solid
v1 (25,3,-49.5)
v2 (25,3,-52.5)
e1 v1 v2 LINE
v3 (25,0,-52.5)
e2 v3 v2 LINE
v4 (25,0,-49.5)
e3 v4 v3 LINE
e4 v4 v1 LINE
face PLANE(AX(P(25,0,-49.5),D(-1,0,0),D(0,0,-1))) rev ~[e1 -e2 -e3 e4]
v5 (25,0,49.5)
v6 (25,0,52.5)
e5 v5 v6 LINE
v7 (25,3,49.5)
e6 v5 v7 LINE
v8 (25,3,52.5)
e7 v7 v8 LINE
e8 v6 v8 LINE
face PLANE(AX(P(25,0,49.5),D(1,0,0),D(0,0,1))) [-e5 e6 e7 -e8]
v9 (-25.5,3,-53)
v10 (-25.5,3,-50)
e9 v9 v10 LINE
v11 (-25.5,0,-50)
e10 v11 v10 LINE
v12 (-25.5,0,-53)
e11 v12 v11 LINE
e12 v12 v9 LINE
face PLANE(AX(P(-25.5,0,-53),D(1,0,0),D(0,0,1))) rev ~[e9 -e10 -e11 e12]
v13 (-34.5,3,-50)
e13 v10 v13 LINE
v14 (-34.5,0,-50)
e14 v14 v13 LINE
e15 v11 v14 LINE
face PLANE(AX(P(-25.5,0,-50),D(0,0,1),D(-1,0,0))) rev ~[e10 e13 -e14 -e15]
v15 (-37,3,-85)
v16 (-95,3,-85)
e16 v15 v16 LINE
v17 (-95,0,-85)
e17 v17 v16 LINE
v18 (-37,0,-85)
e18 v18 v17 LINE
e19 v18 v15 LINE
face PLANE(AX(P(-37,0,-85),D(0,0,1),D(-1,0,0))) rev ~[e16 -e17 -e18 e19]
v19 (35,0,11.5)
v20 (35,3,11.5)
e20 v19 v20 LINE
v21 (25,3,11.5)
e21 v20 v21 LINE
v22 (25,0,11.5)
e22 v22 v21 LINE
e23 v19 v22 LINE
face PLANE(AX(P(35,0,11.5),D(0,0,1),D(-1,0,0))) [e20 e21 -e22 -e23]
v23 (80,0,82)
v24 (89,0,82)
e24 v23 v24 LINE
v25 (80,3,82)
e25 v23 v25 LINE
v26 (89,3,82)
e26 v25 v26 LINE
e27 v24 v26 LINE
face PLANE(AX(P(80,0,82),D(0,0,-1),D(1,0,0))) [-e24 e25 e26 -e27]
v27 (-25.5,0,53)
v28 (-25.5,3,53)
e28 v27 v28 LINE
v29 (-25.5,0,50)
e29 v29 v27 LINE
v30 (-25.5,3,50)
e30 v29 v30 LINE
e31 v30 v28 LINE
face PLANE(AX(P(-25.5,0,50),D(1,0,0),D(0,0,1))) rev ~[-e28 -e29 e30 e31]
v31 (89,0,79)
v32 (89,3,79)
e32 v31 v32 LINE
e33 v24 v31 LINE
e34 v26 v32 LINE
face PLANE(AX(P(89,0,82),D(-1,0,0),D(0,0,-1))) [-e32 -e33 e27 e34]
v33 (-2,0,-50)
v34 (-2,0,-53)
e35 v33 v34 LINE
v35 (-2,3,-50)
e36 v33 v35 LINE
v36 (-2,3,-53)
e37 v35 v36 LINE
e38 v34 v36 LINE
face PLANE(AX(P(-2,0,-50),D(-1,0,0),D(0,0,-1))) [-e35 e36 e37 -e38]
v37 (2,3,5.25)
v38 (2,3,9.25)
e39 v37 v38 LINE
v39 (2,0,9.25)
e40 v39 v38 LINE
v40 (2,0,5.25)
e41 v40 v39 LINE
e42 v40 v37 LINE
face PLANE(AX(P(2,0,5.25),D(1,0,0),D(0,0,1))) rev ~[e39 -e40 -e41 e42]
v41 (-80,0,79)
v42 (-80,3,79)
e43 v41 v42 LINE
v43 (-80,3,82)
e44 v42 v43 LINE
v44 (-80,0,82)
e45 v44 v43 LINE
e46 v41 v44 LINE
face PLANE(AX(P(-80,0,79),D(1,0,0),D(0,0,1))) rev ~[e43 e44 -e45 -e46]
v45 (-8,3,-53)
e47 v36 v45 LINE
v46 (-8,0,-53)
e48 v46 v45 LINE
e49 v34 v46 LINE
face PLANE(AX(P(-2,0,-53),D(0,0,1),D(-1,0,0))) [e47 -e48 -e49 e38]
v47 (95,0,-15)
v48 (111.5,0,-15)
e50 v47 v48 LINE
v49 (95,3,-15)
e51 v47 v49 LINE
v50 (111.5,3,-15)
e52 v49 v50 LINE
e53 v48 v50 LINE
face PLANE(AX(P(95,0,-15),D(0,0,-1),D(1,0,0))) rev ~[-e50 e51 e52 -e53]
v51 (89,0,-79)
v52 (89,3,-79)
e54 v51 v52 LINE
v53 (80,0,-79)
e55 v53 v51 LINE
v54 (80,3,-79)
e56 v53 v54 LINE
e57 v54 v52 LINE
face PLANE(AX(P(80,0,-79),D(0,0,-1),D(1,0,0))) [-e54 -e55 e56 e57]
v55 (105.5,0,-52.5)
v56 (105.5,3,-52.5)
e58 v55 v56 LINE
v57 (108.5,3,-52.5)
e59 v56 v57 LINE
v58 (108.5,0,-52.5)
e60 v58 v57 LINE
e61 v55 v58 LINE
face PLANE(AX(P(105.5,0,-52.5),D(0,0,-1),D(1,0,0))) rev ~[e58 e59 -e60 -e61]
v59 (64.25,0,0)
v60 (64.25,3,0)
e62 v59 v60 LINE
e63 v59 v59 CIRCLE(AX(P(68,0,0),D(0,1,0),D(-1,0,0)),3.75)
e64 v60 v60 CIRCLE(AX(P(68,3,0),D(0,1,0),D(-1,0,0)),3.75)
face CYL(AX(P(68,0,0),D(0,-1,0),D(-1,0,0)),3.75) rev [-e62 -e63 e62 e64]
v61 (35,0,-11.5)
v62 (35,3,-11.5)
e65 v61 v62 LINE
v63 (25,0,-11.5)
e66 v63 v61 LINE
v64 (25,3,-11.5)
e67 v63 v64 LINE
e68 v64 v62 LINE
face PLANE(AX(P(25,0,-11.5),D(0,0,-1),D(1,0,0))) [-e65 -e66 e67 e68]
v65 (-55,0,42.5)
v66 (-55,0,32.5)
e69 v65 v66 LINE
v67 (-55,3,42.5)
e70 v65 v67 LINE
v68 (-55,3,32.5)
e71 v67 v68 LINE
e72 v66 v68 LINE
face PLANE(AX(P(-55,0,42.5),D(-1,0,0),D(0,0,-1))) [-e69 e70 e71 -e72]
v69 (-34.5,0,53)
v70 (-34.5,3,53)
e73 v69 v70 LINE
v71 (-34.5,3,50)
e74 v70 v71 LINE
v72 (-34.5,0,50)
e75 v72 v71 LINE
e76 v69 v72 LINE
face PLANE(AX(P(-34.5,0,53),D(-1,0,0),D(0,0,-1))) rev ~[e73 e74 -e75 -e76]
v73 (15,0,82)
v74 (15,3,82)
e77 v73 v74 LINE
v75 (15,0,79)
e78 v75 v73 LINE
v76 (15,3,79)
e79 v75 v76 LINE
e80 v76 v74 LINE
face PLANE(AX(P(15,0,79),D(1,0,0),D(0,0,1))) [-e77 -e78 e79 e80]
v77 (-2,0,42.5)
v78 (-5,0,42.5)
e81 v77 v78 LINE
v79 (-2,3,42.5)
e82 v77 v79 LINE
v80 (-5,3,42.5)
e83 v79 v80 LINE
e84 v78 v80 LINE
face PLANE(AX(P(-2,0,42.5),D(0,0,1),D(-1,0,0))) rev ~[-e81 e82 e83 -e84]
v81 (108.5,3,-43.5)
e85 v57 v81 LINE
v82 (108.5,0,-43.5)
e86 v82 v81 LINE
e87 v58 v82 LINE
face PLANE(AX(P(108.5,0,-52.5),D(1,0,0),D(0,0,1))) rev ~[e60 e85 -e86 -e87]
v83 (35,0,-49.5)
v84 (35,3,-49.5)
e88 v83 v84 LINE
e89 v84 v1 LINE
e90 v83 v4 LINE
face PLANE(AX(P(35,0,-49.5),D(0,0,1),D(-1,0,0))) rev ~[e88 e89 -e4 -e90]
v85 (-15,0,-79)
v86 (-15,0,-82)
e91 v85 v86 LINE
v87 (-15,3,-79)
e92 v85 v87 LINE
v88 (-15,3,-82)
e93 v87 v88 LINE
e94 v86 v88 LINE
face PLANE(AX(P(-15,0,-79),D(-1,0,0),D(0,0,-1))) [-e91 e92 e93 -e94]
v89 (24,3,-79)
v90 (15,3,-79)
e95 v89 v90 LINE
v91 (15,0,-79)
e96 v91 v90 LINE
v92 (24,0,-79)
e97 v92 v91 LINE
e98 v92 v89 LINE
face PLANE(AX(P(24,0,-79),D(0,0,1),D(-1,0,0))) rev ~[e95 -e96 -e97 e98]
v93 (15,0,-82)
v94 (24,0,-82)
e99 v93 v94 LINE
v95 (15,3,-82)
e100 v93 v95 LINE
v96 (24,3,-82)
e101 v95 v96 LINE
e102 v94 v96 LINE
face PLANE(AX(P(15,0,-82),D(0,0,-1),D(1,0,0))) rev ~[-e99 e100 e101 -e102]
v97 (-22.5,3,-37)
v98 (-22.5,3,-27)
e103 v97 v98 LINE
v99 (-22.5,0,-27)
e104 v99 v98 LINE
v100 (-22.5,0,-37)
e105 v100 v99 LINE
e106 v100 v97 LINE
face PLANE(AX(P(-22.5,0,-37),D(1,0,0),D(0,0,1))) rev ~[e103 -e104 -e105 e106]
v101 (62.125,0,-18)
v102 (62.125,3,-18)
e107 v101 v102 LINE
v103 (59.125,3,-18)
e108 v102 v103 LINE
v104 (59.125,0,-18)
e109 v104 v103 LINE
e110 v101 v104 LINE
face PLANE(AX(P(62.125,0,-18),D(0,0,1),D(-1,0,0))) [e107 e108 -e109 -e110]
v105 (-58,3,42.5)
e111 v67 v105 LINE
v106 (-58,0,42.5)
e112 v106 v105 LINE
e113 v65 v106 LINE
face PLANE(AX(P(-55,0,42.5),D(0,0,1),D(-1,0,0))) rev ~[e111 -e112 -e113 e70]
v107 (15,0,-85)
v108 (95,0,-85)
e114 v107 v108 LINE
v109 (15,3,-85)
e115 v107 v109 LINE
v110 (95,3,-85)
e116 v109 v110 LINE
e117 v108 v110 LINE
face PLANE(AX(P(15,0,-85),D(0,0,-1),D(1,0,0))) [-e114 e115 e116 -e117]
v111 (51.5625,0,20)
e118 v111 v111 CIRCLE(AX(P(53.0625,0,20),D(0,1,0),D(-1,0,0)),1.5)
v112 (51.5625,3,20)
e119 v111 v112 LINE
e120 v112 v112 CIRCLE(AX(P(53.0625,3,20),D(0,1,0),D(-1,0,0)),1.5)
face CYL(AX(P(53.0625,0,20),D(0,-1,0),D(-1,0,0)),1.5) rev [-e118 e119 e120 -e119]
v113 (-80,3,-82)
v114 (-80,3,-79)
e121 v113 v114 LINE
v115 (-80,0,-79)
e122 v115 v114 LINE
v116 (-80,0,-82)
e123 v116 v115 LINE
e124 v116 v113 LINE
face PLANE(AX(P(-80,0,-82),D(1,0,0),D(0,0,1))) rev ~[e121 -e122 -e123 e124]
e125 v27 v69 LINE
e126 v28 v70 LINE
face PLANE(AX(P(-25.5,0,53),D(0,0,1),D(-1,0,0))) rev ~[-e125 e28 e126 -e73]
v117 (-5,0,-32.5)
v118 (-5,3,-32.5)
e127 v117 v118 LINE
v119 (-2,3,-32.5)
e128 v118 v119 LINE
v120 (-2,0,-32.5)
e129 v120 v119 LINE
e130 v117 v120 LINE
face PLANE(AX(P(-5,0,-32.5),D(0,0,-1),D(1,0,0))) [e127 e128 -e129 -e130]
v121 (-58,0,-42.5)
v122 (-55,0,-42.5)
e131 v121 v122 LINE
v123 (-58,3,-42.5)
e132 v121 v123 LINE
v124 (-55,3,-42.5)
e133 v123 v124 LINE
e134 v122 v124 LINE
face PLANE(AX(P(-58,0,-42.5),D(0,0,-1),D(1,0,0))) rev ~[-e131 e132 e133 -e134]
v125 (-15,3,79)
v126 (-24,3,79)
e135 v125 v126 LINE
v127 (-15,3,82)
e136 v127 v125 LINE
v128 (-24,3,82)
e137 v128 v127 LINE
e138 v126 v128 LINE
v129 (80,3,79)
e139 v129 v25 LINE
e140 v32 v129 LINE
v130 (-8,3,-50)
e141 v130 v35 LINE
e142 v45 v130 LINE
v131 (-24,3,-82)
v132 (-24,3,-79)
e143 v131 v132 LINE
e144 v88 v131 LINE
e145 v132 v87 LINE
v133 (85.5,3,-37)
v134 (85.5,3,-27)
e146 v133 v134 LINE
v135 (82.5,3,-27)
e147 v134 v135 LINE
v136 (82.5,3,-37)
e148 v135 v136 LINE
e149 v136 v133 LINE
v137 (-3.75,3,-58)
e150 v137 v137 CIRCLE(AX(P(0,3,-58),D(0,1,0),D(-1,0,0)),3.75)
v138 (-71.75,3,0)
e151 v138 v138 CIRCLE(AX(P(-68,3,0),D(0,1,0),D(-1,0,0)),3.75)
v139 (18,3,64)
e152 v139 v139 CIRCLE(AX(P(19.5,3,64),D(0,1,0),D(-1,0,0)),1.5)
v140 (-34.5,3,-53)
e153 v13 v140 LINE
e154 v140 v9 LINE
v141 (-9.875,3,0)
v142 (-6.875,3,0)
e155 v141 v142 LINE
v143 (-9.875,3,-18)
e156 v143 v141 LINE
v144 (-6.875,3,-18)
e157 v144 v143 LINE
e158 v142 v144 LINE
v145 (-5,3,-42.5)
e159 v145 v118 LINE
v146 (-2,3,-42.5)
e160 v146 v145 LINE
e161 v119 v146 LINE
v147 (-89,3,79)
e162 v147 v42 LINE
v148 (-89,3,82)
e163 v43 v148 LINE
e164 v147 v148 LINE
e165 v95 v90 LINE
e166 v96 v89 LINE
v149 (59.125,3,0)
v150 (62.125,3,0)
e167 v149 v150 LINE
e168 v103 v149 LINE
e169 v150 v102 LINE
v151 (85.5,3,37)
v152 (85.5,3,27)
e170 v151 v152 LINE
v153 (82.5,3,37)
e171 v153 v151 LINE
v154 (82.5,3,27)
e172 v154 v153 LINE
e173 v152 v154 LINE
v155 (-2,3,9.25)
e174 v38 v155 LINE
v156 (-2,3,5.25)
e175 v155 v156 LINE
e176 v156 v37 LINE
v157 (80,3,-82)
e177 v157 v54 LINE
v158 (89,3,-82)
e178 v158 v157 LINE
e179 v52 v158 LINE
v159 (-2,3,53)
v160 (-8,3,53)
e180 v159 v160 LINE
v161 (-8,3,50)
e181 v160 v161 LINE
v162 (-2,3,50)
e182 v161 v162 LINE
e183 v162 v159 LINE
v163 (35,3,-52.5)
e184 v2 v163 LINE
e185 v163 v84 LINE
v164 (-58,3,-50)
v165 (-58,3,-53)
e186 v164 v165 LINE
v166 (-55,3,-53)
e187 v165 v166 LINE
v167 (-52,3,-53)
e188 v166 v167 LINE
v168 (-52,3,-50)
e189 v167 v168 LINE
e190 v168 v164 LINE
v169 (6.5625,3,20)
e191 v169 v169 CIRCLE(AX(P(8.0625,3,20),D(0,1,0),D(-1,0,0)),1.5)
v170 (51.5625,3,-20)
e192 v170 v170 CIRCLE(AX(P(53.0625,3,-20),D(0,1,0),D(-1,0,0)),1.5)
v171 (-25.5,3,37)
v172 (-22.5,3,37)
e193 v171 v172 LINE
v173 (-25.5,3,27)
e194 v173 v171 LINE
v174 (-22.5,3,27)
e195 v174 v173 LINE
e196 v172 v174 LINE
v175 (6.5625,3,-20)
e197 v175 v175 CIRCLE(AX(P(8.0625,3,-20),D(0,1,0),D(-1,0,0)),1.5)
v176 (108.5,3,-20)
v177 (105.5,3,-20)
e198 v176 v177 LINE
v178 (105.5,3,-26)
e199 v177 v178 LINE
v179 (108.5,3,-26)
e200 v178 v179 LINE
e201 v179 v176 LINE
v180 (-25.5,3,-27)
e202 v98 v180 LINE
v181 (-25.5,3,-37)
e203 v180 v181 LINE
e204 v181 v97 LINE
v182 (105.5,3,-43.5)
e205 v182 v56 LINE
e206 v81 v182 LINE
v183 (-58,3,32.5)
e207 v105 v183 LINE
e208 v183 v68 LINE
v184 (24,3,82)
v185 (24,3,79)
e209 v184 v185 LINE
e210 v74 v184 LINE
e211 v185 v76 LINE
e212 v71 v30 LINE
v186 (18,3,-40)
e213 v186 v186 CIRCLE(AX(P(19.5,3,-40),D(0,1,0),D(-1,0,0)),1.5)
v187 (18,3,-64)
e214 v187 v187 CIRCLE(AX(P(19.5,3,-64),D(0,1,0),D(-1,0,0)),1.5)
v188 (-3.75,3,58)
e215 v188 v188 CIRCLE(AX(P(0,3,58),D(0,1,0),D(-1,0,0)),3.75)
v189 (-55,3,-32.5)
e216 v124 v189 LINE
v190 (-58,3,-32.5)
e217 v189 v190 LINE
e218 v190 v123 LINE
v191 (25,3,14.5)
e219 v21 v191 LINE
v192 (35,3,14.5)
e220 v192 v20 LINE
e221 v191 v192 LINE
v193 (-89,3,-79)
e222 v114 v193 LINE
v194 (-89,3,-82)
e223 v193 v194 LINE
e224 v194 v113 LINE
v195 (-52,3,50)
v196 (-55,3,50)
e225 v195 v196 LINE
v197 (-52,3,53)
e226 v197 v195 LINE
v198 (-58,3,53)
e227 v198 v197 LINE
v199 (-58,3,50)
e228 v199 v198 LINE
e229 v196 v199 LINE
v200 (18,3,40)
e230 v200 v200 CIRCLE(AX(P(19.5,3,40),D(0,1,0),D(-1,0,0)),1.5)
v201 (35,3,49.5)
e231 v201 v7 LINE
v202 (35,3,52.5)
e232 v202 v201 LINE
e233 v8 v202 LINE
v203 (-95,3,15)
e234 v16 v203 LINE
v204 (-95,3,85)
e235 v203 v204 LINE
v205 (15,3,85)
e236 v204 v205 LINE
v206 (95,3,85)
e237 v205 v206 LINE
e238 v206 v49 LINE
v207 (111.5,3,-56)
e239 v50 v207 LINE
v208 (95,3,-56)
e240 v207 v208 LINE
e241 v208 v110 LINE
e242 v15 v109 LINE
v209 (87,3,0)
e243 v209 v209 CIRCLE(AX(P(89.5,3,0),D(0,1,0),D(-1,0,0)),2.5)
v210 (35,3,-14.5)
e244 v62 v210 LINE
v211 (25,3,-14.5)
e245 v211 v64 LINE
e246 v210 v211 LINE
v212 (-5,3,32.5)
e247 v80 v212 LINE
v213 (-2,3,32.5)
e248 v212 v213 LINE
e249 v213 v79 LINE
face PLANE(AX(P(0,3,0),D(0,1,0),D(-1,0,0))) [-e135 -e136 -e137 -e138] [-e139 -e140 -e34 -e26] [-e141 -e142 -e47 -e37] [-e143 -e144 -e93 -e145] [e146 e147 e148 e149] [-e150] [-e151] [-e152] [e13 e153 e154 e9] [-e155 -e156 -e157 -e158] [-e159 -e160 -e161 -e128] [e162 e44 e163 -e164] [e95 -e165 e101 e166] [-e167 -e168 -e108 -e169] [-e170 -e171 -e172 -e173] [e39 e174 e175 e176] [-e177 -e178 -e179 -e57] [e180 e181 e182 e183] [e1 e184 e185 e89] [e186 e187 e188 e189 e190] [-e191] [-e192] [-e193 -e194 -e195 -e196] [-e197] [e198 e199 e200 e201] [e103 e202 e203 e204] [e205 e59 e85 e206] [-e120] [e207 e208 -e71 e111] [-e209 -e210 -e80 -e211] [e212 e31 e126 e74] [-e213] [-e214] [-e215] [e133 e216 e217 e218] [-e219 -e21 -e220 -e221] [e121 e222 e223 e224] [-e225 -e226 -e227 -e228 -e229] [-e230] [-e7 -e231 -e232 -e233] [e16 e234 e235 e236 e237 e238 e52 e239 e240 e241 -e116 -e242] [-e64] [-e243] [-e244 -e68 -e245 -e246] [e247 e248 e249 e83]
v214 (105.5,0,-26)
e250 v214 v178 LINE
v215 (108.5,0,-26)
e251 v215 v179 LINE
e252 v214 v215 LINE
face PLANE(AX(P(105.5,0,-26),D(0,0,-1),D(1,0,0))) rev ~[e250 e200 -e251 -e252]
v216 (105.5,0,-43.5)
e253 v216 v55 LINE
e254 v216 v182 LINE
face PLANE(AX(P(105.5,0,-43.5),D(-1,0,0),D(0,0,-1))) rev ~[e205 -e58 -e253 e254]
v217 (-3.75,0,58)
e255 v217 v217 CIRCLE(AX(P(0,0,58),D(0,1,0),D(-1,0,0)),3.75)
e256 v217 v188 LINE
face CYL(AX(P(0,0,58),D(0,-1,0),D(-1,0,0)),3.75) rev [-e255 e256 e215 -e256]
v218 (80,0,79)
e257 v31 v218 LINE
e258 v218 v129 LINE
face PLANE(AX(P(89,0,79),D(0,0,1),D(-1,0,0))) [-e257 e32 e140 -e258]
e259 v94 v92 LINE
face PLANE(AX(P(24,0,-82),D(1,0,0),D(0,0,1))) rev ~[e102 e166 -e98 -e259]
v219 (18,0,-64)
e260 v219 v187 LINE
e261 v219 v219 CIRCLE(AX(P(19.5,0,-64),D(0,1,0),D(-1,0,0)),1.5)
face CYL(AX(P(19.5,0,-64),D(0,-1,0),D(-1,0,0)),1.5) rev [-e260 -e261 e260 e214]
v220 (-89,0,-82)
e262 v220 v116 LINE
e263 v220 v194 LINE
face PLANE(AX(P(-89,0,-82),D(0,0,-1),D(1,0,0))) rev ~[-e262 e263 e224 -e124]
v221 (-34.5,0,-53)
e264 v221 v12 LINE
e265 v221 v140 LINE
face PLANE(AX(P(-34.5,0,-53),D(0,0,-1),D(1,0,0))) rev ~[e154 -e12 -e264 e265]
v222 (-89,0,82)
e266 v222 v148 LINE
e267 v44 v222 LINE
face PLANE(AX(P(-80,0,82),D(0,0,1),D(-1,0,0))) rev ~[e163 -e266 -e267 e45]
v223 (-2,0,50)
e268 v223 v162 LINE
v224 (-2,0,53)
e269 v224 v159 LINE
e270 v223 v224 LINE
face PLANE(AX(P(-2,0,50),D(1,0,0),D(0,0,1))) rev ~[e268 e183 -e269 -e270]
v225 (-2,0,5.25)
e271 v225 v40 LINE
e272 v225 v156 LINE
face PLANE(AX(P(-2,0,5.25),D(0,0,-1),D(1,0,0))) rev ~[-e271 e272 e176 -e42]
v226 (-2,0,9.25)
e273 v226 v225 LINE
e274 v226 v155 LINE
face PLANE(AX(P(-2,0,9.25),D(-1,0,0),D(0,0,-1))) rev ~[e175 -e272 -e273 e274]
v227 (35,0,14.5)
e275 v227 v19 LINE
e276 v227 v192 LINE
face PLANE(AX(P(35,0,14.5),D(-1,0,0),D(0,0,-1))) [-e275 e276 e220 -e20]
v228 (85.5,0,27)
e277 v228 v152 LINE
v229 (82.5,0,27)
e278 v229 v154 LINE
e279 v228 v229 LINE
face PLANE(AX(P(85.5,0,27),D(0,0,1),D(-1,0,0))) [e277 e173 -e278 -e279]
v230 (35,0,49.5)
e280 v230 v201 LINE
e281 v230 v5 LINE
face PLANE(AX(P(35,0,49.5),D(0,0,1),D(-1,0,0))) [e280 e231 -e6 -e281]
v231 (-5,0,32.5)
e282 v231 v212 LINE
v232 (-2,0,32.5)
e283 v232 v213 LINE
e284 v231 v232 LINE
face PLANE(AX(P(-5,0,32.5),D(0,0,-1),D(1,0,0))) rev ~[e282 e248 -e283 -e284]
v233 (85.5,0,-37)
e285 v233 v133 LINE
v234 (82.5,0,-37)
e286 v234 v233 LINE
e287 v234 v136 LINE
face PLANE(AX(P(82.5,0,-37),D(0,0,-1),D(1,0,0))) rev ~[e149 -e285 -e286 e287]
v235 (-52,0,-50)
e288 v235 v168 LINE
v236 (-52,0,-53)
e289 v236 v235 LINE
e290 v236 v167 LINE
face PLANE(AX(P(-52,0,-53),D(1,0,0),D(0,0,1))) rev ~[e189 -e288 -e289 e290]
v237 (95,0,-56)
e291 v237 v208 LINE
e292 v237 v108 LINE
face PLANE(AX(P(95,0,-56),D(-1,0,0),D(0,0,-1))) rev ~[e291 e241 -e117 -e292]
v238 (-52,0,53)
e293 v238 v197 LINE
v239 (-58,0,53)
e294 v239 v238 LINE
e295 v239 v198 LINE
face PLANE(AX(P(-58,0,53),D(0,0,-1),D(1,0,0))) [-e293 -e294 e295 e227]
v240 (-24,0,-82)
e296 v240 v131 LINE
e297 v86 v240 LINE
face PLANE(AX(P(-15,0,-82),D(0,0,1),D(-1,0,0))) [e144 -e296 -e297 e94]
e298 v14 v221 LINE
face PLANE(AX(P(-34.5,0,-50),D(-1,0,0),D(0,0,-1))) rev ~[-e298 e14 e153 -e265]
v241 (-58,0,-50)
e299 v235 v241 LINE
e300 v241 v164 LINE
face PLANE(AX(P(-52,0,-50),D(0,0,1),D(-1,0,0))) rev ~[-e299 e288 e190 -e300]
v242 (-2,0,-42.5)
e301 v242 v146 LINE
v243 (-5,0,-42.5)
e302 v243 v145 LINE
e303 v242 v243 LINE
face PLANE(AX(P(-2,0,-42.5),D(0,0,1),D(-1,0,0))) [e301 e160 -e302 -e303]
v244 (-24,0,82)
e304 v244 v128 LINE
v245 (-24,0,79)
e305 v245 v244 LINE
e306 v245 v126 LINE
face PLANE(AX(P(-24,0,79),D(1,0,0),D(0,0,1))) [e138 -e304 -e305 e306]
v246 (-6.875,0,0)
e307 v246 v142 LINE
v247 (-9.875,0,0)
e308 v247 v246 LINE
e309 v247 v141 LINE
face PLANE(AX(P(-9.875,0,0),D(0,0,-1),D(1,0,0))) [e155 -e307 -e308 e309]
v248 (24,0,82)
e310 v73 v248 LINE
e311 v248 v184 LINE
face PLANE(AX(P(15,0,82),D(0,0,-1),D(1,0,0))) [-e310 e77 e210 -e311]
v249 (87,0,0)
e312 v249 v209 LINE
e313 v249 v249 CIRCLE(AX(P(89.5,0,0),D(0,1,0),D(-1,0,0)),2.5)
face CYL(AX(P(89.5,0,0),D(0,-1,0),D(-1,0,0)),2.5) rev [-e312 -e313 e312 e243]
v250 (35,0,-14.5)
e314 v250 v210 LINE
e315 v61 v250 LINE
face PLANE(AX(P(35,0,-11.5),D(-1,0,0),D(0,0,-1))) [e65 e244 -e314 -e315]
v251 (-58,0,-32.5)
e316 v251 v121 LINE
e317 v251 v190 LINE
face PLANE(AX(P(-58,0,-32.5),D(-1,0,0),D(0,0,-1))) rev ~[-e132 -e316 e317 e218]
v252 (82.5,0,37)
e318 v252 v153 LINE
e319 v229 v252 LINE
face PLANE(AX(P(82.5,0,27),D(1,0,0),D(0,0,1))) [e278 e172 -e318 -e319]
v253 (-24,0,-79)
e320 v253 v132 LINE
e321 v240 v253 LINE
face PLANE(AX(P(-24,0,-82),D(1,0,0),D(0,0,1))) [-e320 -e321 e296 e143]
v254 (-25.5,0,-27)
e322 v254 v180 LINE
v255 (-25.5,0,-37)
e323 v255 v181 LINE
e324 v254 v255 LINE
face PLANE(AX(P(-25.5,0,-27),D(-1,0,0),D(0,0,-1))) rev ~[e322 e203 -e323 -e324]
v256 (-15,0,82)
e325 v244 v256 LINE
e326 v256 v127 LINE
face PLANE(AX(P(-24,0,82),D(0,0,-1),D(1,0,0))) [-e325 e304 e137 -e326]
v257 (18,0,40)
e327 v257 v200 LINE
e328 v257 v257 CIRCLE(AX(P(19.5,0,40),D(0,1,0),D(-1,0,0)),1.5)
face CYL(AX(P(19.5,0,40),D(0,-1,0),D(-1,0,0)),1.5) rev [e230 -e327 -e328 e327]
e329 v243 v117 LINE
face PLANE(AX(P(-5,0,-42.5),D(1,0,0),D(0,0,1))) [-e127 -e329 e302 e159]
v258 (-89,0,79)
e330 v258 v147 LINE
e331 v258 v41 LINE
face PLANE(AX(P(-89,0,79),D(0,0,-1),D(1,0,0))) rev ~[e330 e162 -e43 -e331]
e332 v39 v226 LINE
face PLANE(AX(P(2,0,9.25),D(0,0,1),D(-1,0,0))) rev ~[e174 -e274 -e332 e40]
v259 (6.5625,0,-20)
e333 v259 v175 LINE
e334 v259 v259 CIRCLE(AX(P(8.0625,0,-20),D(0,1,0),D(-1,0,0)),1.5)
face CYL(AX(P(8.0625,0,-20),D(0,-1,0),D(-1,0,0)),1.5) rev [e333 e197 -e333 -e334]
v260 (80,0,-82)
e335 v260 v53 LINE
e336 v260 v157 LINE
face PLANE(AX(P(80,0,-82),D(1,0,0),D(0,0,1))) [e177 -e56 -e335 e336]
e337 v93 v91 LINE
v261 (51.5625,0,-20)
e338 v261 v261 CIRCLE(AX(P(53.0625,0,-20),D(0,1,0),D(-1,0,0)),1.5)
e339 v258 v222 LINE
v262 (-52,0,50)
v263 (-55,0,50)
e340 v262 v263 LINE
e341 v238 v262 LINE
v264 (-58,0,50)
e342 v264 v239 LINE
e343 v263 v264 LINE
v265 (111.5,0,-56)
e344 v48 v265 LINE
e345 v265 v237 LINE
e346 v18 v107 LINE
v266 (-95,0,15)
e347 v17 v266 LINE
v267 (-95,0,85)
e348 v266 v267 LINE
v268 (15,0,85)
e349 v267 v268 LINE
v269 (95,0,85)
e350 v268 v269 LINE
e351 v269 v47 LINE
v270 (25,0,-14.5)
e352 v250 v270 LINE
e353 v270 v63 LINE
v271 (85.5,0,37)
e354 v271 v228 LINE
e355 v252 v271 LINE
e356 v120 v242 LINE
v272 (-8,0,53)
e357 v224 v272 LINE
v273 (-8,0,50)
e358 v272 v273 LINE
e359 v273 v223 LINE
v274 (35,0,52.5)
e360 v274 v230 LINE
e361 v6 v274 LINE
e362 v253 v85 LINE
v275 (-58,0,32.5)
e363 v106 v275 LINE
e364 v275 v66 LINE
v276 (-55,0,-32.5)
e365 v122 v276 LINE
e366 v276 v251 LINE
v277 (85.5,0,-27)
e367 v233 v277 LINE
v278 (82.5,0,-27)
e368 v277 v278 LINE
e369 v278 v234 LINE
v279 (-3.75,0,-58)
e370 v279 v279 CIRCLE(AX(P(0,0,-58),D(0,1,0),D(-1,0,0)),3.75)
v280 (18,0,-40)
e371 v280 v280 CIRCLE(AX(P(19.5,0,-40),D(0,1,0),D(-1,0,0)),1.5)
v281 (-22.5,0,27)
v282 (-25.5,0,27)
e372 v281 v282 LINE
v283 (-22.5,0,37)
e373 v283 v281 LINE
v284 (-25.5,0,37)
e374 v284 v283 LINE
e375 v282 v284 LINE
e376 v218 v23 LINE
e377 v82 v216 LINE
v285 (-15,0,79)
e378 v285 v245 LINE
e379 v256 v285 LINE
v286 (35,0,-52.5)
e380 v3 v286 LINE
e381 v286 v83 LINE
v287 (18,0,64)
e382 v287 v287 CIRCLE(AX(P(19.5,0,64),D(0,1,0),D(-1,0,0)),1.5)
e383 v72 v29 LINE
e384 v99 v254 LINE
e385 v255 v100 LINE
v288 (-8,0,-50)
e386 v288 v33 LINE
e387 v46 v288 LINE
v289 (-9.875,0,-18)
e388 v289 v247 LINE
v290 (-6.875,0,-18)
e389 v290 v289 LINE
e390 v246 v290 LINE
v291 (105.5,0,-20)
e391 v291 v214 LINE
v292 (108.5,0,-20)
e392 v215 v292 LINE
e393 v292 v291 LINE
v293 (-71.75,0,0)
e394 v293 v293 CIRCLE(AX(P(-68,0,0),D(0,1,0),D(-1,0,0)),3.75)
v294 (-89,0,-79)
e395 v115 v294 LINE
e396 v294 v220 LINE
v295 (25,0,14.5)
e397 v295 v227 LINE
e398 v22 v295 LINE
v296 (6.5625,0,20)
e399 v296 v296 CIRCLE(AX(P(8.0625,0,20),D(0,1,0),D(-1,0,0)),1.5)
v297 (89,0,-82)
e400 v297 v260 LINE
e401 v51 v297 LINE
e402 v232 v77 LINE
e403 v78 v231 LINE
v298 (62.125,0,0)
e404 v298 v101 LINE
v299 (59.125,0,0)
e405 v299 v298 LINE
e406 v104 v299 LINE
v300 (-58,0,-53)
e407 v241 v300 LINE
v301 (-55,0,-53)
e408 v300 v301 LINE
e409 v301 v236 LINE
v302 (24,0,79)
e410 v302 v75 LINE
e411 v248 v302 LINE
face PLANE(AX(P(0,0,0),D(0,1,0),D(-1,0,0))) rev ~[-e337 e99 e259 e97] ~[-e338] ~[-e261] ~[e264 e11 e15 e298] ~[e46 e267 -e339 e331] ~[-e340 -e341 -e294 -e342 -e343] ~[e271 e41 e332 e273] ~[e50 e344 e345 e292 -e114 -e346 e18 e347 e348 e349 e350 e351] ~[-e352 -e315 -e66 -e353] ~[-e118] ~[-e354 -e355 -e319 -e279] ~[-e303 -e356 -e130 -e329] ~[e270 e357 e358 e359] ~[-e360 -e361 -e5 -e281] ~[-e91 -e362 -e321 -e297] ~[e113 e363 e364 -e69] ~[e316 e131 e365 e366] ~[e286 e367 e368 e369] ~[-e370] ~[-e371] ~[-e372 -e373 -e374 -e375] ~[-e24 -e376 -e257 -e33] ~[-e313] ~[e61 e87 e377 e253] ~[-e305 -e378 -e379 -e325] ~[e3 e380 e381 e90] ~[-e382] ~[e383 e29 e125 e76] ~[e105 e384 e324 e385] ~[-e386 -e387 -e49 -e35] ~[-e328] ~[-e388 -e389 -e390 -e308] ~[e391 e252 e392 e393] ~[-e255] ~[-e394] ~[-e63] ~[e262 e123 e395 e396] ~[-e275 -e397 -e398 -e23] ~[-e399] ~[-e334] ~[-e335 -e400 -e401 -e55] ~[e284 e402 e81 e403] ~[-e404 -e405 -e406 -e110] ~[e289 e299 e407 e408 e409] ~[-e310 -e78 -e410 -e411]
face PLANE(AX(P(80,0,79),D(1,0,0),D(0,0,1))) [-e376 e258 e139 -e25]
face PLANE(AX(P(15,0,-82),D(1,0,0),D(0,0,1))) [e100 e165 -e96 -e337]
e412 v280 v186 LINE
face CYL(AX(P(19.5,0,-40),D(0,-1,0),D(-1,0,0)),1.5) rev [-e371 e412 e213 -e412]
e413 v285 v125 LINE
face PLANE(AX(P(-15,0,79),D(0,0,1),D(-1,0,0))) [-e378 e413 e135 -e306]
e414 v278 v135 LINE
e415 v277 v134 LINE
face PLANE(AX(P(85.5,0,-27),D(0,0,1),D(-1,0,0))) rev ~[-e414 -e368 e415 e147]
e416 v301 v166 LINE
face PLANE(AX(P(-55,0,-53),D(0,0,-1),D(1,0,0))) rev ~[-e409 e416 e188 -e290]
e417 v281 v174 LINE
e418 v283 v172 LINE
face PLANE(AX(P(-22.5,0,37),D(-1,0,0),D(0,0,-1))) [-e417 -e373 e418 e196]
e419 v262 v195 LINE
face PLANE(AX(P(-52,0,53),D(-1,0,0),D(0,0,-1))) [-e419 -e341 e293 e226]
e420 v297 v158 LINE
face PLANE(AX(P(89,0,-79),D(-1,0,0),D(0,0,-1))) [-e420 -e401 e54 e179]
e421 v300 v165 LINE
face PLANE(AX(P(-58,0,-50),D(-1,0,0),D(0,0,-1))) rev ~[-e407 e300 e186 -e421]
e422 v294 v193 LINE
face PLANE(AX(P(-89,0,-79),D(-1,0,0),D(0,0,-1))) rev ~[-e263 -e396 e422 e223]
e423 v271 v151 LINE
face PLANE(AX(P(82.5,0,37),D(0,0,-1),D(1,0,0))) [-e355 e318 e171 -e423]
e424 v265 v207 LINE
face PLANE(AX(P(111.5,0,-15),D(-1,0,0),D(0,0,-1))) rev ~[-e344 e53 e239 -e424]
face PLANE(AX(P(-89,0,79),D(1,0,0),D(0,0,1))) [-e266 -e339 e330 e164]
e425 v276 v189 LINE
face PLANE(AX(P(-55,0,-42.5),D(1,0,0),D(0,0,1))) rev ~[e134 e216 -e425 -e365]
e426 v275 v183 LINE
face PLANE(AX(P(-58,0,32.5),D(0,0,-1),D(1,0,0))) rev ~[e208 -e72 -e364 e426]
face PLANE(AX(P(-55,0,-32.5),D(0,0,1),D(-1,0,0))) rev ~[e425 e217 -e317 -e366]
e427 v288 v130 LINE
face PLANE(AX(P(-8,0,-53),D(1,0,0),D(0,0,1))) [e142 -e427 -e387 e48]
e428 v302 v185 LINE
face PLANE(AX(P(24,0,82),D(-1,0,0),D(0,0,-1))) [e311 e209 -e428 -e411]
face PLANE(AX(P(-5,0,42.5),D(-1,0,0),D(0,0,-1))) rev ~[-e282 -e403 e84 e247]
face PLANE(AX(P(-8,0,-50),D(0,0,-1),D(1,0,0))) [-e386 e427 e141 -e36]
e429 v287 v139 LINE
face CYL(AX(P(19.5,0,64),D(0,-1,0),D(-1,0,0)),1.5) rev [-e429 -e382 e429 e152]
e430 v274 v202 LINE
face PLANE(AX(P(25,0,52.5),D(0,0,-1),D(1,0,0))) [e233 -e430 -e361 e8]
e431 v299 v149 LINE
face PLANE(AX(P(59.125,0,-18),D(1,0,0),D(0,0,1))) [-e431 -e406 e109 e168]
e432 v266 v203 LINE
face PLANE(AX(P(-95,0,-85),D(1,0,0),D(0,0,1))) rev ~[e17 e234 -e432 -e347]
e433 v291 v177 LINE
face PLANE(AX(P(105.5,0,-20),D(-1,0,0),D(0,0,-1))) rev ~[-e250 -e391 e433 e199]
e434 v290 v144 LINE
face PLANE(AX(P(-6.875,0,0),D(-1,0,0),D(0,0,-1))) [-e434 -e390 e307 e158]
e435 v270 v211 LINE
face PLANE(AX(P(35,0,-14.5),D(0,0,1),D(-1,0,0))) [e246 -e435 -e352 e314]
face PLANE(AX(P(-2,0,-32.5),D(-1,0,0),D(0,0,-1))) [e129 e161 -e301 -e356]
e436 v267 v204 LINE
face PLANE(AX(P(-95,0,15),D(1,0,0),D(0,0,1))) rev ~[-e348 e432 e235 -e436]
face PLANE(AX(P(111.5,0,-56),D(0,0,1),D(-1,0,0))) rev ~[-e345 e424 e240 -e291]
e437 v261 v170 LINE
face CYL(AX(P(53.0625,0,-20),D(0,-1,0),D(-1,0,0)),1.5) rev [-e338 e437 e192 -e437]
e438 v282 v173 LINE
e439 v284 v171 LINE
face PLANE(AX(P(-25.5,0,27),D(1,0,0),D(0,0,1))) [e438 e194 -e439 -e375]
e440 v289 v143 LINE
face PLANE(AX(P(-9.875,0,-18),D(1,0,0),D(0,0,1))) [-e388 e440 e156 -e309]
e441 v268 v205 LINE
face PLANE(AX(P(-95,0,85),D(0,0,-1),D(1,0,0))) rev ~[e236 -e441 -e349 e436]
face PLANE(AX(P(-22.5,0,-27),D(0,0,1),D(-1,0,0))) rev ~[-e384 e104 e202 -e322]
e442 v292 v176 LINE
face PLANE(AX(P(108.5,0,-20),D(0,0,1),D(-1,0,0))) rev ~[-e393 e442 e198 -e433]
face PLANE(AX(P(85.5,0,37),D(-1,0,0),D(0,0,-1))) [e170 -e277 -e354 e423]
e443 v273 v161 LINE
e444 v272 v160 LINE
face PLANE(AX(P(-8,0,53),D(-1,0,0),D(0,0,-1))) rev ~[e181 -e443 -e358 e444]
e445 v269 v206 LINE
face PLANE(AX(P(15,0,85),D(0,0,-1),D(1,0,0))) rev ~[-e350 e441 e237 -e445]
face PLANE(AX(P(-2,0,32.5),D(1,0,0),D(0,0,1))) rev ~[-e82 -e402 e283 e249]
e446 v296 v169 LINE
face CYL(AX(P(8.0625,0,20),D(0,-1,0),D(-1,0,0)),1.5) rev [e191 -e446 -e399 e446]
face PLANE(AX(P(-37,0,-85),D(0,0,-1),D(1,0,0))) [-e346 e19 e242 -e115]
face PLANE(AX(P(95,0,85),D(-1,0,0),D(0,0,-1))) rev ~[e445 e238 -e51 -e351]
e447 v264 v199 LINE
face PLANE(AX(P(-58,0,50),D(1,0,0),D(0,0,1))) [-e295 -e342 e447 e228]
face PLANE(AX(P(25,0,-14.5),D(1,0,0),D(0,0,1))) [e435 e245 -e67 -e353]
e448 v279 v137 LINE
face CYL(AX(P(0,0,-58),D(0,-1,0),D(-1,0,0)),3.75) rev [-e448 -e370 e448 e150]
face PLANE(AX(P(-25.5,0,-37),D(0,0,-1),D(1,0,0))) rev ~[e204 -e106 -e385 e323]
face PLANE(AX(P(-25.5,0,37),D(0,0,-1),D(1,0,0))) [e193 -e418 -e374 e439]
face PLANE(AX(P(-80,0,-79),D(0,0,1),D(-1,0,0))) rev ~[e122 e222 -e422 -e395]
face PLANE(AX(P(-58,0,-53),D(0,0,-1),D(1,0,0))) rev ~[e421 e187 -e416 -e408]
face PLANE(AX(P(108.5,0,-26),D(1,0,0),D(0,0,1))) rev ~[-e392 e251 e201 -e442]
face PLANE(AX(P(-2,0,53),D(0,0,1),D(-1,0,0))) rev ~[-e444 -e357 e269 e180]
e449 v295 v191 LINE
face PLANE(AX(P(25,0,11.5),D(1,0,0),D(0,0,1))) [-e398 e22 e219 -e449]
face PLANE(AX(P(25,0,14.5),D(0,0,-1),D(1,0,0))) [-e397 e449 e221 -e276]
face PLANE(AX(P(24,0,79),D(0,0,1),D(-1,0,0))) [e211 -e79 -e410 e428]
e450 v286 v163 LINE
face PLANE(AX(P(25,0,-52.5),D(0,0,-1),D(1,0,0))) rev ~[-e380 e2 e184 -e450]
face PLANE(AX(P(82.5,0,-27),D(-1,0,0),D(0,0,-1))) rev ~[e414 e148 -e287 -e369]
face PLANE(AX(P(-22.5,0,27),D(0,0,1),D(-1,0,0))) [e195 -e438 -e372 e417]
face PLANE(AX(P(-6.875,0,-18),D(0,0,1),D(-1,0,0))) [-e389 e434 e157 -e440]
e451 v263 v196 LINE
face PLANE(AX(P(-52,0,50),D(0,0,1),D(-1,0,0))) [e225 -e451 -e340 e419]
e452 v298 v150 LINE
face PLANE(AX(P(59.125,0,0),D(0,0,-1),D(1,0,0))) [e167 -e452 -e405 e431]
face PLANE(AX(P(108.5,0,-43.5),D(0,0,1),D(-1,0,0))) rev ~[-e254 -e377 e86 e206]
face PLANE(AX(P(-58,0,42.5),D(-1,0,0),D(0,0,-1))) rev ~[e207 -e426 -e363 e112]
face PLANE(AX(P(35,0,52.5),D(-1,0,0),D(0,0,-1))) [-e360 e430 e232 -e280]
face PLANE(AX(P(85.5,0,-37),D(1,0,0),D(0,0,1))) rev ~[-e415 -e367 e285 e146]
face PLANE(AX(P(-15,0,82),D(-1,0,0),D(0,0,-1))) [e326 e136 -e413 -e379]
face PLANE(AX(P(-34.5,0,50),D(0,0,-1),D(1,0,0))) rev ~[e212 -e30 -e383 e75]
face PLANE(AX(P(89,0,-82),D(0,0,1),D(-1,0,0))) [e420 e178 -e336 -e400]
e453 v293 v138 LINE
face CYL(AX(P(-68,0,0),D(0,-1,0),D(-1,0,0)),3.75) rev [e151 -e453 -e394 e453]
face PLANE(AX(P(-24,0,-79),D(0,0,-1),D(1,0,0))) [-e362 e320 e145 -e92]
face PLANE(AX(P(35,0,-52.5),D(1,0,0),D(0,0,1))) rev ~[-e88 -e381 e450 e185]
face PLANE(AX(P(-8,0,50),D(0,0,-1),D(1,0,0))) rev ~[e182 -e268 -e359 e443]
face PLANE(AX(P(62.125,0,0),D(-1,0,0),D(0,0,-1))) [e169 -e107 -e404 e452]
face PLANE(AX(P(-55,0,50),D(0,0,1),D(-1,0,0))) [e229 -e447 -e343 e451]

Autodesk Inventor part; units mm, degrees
ref_plane "YZ Plane" through (0, 0, 0) normal (1, 0, 0) x (0, 1, 0)
ref_plane "XZ Plane" through (0, 0, 0) normal (0, 1, 0) x (-1, 0, 0)
ref_plane "XY Plane" through (0, 0, 0) normal (0, 0, 1) x (1, 0, 0)
sketch "Boceto1" plane through (0, 0, 0) normal (0, 1, 0) x (-1, 0, 0)
  circle A0 centre (-19.5, -64) radius 1.5
  circle A1 centre (-19.5, -40) radius 1.5
  circle A2 centre (0, 58) radius 3.75
  circle A3 centre (-19.5, 40) radius 1.5
  circle A4 centre (-19.5, 64) radius 1.5
  line L0 (37, -85) -> (-95, -85)
  circle A5 centre (-89.5, 0) radius 2.5
  circle A6 centre (-53.0625, 20) radius 1.5
  circle A7 centre (-53.0625, -20) radius 1.5
  circle A8 centre (-8.0625, -20) radius 1.5
  circle A9 centre (-8.0625, 20) radius 1.5
  line L1 (15, 82) -> (15, 79)
  line L2 (24, 79) -> (24, 82)
  line L3 (-89, -79) -> (-89, -82)
  line L4 (-80, -82) -> (-80, -79)
  line L5 (-15, -85) -> (-95, -85)
  line L6 (-15, -82) -> (-15, -79)
  line L7 (15, -79) -> (15, -82)
  circle A10 centre (-68, 0) radius 3.75
  circle A11 centre (0, -58) radius 3.75
  line L8 (24, -82) -> (24, -79)
  line L9 (89, -79) -> (89, -82)
  circle A12 centre (68, 0) radius 3.75
  line L10 (-89, 82) -> (-89, 79)
  line L11 (-80, 79) -> (-80, 82)
  line L12 (89, 79) -> (89, 82)
  line L13 (95, 15) -> (95, 85)
  line L14 (-15, 85) -> (-95, 85)
  line L15 (55, 42.5) -> (58, 42.5)
  line L16 (58, 42.5) -> (58, 32.5)
  line L17 (58, 32.5) -> (55, 32.5)
  line L18 (15, 79) -> (24, 79)
  line L19 (24, 79) -> (24, 82)
  line L20 (24, 82) -> (15, 82)
  line L21 (-89, -82) -> (-80, -82)
  line L22 (-80, -82) -> (-80, -79)
  line L23 (-80, -79) -> (-89, -79)
  line L24 (-15, -82) -> (-24, -82)
  line L25 (-24, -82) -> (-24, -79)
  line L26 (-24, -79) -> (-15, -79)
  line L27 (15, -82) -> (24, -82)
  line L28 (24, -82) -> (24, -79)
  line L29 (24, -79) -> (15, -79)
  line L30 (-89, 79) -> (-80, 79)
  line L31 (-80, 79) -> (-80, 82)
  line L32 (-80, 82) -> (-89, 82)
  line L33 (-15, 82) -> (-24, 82)
  line L34 (-24, 82) -> (-24, 79)
  line L35 (-24, 79) -> (-15, 79)
  line L36 (-15, 79) -> (-15, 82)
  line L37 (25.5, 27) -> (25.5, 37)
  line L38 (25.5, 37) -> (22.5, 37)
  line L39 (22.5, 37) -> (22.5, 27)
  line L40 (22.5, 27) -> (25.5, 27)
  line L41 (22.5, -27) -> (25.5, -27)
  line L42 (25.5, -27) -> (25.5, -37)
  line L43 (25.5, -37) -> (22.5, -37)
  line L44 (22.5, -37) -> (22.5, -27)
  line L45 (-25, -49.5) -> (-25, -52.5)
  line L46 (-25, -52.5) -> (-35, -52.5)
  line L47 (-35, -52.5) -> (-35, -49.5)
  line L48 (-35, -49.5) -> (-25, -49.5)
  line L49 (-35, -14.5) -> (-25, -14.5)
  line L50 (-25, -14.5) -> (-25, -11.5)
  line L51 (-25, -11.5) -> (-35, -11.5)
  line L52 (-35, -11.5) -> (-35, -14.5)
  line L53 (-35, 11.5) -> (-25, 11.5)
  line L54 (-25, 11.5) -> (-25, 14.5)
  line L55 (-25, 14.5) -> (-35, 14.5)
  line L56 (-35, 14.5) -> (-35, 11.5)
  line L57 (-35, 52.5) -> (-35, 49.5)
  line L58 (-35, 49.5) -> (-25, 49.5)
  line L59 (-25, 49.5) -> (-25, 52.5)
  line L60 (-25, 52.5) -> (-35, 52.5)
  line L61 (-85.5, 27) -> (-82.5, 27)
  line L62 (-82.5, 27) -> (-82.5, 37)
  line L63 (-82.5, 37) -> (-85.5, 37)
  line L64 (-85.5, 37) -> (-85.5, 27)
  line L65 (-82.5, -27) -> (-82.5, -37)
  line L66 (-82.5, -37) -> (-85.5, -37)
  line L67 (-85.5, -37) -> (-85.5, -27)
  line L68 (-85.5, -27) -> (-82.5, -27)
  line L69 (52, -50) -> (58, -50)
  line L70 (58, -50) -> (58, -53)
  line L71 (58, -53) -> (55, -53)
  line L72 (55, -53) -> (52, -53)
  line L73 (52, -53) -> (52, -50)
  line L74 (2, -53) -> (8, -53)
  line L75 (8, -53) -> (8, -50)
  line L76 (8, -50) -> (2, -50)
  line L77 (2, -50) -> (2, -53)
  line L78 (2, 53) -> (8, 53)
  line L79 (8, 53) -> (8, 50)
  line L80 (8, 50) -> (2, 50)
  line L81 (2, 50) -> (2, 53)
  line L82 (55, 50) -> (58, 50)
  line L83 (58, 50) -> (58, 53)
  line L84 (58, 53) -> (52, 53)
  line L85 (52, 53) -> (52, 50)
  line L86 (52, 50) -> (55, 50)
  line L87 (34.5, 53) -> (34.5, 50)
  line L88 (34.5, 50) -> (25.5, 50)
  line L89 (25.5, 50) -> (25.5, 53)
  line L90 (25.5, 53) -> (34.5, 53)
  line L91 (34.5, -50) -> (34.5, -53)
  line L92 (34.5, -53) -> (25.5, -53)
  line L93 (25.5, -53) -> (25.5, -50)
  line L94 (25.5, -50) -> (34.5, -50)
  line L95 (55, 42.5) -> (55, 32.5)
  line L96 (55, 32.5) -> (58, 32.5)
  line L97 (58, 32.5) -> (58, 42.5)
  line L98 (58, 42.5) -> (55, 42.5)
  line L99 (5, 32.5) -> (2, 32.5)
  line L100 (2, 32.5) -> (2, 42.5)
  line L101 (2, 42.5) -> (5, 42.5)
  line L102 (5, 42.5) -> (5, 32.5)
  line L103 (58, 42.5) -> (55, 42.5)
  line L104 (55, 42.5) -> (55, 32.5)
  line L105 (55, 32.5) -> (58, 32.5)
  line L106 (58, 32.5) -> (58, 42.5)
  line L107 (5, -32.5) -> (2, -32.5)
  line L108 (2, -32.5) -> (2, -42.5)
  line L109 (2, -42.5) -> (5, -42.5)
  line L110 (5, -42.5) -> (5, -32.5)
  line L111 (58, -42.5) -> (55, -42.5)
  line L112 (55, -42.5) -> (55, -32.5)
  line L113 (55, -32.5) -> (58, -32.5)
  line L114 (58, -32.5) -> (58, -42.5)
  line L115 (-62.125, -18) -> (-59.125, -18)
  line L116 (-59.125, -18) -> (-59.125, 0)
  line L117 (-59.125, 0) -> (-62.125, 0)
  line L118 (-62.125, 0) -> (-62.125, -18)
  line L119 (-2, 9.25) -> (2, 9.25)
  line L120 (2, 9.25) -> (2, 5.25)
  line L121 (2, 5.25) -> (-2, 5.25)
  line L122 (-2, 5.25) -> (-2, 9.25)
  line L123 (6.875, 0) -> (6.875, -18)
  line L124 (6.875, -18) -> (9.875, -18)
  line L125 (9.875, -18) -> (9.875, 0)
  line L126 (9.875, 0) -> (6.875, 0)
  line L127 (80, 79) -> (80, 82)
  line L128 (80, 82) -> (89, 82)
  line L129 (89, 82) -> (89, 79)
  line L130 (89, 79) -> (80, 79)
  line L131 (80, -79) -> (89, -79)
  line L132 (89, -79) -> (89, -82)
  line L133 (89, -82) -> (80, -82)
  line L134 (80, -82) -> (80, -79)
  line L135 (-95, -56) -> (-95, -85)
  line L136 (-95, -85) -> (95, -85)
  line L137 (95, -85) -> (95, 85)
  line L138 (95, 85) -> (-95, 85)
  line L139 (-95, 85) -> (-95, -15)
  line L140 (-95, -15) -> (-111.5, -15)
  line L141 (-111.5, -15) -> (-111.5, -56)
  line L142 (-111.5, -56) -> (-95, -56)
  line L143 (95, -85) -> (95, 85)
  line L144 (95, 85) -> (-95, 85)
  line L145 (-95, 85) -> (-95, -15)
  line L146 (-95, -15) -> (-111.5, -15)
  line L147 (-111.5, -15) -> (-111.5, -56)
  line L148 (-111.5, -56) -> (-95, -56)
  line L149 (-95, -56) -> (-95, -85)
  line L150 (-95, -85) -> (95, -85)
  line L151 (-108.5, -43.5) -> (-105.5, -43.5)
  line L152 (-105.5, -43.5) -> (-105.5, -52.5)
  line L153 (-105.5, -52.5) -> (-108.5, -52.5)
  line L154 (-108.5, -52.5) -> (-108.5, -43.5)
  line L155 (-108.5, -26) -> (-108.5, -20)
  line L156 (-108.5, -20) -> (-105.5, -20)
  line L157 (-105.5, -20) -> (-105.5, -26)
  line L158 (-105.5, -26) -> (-108.5, -26)
  point P0 (0, 0)
  point P1 (2, -32.5)
  point P2 (2, 32.5)
  point P3 (2, 50)
  point P4 (2, -50)
extrude "Extrusión1" add sketch "Boceto1" along normal blind 3
properties part number "Base3" material "MDF Tablero de fibras de densidad media"
